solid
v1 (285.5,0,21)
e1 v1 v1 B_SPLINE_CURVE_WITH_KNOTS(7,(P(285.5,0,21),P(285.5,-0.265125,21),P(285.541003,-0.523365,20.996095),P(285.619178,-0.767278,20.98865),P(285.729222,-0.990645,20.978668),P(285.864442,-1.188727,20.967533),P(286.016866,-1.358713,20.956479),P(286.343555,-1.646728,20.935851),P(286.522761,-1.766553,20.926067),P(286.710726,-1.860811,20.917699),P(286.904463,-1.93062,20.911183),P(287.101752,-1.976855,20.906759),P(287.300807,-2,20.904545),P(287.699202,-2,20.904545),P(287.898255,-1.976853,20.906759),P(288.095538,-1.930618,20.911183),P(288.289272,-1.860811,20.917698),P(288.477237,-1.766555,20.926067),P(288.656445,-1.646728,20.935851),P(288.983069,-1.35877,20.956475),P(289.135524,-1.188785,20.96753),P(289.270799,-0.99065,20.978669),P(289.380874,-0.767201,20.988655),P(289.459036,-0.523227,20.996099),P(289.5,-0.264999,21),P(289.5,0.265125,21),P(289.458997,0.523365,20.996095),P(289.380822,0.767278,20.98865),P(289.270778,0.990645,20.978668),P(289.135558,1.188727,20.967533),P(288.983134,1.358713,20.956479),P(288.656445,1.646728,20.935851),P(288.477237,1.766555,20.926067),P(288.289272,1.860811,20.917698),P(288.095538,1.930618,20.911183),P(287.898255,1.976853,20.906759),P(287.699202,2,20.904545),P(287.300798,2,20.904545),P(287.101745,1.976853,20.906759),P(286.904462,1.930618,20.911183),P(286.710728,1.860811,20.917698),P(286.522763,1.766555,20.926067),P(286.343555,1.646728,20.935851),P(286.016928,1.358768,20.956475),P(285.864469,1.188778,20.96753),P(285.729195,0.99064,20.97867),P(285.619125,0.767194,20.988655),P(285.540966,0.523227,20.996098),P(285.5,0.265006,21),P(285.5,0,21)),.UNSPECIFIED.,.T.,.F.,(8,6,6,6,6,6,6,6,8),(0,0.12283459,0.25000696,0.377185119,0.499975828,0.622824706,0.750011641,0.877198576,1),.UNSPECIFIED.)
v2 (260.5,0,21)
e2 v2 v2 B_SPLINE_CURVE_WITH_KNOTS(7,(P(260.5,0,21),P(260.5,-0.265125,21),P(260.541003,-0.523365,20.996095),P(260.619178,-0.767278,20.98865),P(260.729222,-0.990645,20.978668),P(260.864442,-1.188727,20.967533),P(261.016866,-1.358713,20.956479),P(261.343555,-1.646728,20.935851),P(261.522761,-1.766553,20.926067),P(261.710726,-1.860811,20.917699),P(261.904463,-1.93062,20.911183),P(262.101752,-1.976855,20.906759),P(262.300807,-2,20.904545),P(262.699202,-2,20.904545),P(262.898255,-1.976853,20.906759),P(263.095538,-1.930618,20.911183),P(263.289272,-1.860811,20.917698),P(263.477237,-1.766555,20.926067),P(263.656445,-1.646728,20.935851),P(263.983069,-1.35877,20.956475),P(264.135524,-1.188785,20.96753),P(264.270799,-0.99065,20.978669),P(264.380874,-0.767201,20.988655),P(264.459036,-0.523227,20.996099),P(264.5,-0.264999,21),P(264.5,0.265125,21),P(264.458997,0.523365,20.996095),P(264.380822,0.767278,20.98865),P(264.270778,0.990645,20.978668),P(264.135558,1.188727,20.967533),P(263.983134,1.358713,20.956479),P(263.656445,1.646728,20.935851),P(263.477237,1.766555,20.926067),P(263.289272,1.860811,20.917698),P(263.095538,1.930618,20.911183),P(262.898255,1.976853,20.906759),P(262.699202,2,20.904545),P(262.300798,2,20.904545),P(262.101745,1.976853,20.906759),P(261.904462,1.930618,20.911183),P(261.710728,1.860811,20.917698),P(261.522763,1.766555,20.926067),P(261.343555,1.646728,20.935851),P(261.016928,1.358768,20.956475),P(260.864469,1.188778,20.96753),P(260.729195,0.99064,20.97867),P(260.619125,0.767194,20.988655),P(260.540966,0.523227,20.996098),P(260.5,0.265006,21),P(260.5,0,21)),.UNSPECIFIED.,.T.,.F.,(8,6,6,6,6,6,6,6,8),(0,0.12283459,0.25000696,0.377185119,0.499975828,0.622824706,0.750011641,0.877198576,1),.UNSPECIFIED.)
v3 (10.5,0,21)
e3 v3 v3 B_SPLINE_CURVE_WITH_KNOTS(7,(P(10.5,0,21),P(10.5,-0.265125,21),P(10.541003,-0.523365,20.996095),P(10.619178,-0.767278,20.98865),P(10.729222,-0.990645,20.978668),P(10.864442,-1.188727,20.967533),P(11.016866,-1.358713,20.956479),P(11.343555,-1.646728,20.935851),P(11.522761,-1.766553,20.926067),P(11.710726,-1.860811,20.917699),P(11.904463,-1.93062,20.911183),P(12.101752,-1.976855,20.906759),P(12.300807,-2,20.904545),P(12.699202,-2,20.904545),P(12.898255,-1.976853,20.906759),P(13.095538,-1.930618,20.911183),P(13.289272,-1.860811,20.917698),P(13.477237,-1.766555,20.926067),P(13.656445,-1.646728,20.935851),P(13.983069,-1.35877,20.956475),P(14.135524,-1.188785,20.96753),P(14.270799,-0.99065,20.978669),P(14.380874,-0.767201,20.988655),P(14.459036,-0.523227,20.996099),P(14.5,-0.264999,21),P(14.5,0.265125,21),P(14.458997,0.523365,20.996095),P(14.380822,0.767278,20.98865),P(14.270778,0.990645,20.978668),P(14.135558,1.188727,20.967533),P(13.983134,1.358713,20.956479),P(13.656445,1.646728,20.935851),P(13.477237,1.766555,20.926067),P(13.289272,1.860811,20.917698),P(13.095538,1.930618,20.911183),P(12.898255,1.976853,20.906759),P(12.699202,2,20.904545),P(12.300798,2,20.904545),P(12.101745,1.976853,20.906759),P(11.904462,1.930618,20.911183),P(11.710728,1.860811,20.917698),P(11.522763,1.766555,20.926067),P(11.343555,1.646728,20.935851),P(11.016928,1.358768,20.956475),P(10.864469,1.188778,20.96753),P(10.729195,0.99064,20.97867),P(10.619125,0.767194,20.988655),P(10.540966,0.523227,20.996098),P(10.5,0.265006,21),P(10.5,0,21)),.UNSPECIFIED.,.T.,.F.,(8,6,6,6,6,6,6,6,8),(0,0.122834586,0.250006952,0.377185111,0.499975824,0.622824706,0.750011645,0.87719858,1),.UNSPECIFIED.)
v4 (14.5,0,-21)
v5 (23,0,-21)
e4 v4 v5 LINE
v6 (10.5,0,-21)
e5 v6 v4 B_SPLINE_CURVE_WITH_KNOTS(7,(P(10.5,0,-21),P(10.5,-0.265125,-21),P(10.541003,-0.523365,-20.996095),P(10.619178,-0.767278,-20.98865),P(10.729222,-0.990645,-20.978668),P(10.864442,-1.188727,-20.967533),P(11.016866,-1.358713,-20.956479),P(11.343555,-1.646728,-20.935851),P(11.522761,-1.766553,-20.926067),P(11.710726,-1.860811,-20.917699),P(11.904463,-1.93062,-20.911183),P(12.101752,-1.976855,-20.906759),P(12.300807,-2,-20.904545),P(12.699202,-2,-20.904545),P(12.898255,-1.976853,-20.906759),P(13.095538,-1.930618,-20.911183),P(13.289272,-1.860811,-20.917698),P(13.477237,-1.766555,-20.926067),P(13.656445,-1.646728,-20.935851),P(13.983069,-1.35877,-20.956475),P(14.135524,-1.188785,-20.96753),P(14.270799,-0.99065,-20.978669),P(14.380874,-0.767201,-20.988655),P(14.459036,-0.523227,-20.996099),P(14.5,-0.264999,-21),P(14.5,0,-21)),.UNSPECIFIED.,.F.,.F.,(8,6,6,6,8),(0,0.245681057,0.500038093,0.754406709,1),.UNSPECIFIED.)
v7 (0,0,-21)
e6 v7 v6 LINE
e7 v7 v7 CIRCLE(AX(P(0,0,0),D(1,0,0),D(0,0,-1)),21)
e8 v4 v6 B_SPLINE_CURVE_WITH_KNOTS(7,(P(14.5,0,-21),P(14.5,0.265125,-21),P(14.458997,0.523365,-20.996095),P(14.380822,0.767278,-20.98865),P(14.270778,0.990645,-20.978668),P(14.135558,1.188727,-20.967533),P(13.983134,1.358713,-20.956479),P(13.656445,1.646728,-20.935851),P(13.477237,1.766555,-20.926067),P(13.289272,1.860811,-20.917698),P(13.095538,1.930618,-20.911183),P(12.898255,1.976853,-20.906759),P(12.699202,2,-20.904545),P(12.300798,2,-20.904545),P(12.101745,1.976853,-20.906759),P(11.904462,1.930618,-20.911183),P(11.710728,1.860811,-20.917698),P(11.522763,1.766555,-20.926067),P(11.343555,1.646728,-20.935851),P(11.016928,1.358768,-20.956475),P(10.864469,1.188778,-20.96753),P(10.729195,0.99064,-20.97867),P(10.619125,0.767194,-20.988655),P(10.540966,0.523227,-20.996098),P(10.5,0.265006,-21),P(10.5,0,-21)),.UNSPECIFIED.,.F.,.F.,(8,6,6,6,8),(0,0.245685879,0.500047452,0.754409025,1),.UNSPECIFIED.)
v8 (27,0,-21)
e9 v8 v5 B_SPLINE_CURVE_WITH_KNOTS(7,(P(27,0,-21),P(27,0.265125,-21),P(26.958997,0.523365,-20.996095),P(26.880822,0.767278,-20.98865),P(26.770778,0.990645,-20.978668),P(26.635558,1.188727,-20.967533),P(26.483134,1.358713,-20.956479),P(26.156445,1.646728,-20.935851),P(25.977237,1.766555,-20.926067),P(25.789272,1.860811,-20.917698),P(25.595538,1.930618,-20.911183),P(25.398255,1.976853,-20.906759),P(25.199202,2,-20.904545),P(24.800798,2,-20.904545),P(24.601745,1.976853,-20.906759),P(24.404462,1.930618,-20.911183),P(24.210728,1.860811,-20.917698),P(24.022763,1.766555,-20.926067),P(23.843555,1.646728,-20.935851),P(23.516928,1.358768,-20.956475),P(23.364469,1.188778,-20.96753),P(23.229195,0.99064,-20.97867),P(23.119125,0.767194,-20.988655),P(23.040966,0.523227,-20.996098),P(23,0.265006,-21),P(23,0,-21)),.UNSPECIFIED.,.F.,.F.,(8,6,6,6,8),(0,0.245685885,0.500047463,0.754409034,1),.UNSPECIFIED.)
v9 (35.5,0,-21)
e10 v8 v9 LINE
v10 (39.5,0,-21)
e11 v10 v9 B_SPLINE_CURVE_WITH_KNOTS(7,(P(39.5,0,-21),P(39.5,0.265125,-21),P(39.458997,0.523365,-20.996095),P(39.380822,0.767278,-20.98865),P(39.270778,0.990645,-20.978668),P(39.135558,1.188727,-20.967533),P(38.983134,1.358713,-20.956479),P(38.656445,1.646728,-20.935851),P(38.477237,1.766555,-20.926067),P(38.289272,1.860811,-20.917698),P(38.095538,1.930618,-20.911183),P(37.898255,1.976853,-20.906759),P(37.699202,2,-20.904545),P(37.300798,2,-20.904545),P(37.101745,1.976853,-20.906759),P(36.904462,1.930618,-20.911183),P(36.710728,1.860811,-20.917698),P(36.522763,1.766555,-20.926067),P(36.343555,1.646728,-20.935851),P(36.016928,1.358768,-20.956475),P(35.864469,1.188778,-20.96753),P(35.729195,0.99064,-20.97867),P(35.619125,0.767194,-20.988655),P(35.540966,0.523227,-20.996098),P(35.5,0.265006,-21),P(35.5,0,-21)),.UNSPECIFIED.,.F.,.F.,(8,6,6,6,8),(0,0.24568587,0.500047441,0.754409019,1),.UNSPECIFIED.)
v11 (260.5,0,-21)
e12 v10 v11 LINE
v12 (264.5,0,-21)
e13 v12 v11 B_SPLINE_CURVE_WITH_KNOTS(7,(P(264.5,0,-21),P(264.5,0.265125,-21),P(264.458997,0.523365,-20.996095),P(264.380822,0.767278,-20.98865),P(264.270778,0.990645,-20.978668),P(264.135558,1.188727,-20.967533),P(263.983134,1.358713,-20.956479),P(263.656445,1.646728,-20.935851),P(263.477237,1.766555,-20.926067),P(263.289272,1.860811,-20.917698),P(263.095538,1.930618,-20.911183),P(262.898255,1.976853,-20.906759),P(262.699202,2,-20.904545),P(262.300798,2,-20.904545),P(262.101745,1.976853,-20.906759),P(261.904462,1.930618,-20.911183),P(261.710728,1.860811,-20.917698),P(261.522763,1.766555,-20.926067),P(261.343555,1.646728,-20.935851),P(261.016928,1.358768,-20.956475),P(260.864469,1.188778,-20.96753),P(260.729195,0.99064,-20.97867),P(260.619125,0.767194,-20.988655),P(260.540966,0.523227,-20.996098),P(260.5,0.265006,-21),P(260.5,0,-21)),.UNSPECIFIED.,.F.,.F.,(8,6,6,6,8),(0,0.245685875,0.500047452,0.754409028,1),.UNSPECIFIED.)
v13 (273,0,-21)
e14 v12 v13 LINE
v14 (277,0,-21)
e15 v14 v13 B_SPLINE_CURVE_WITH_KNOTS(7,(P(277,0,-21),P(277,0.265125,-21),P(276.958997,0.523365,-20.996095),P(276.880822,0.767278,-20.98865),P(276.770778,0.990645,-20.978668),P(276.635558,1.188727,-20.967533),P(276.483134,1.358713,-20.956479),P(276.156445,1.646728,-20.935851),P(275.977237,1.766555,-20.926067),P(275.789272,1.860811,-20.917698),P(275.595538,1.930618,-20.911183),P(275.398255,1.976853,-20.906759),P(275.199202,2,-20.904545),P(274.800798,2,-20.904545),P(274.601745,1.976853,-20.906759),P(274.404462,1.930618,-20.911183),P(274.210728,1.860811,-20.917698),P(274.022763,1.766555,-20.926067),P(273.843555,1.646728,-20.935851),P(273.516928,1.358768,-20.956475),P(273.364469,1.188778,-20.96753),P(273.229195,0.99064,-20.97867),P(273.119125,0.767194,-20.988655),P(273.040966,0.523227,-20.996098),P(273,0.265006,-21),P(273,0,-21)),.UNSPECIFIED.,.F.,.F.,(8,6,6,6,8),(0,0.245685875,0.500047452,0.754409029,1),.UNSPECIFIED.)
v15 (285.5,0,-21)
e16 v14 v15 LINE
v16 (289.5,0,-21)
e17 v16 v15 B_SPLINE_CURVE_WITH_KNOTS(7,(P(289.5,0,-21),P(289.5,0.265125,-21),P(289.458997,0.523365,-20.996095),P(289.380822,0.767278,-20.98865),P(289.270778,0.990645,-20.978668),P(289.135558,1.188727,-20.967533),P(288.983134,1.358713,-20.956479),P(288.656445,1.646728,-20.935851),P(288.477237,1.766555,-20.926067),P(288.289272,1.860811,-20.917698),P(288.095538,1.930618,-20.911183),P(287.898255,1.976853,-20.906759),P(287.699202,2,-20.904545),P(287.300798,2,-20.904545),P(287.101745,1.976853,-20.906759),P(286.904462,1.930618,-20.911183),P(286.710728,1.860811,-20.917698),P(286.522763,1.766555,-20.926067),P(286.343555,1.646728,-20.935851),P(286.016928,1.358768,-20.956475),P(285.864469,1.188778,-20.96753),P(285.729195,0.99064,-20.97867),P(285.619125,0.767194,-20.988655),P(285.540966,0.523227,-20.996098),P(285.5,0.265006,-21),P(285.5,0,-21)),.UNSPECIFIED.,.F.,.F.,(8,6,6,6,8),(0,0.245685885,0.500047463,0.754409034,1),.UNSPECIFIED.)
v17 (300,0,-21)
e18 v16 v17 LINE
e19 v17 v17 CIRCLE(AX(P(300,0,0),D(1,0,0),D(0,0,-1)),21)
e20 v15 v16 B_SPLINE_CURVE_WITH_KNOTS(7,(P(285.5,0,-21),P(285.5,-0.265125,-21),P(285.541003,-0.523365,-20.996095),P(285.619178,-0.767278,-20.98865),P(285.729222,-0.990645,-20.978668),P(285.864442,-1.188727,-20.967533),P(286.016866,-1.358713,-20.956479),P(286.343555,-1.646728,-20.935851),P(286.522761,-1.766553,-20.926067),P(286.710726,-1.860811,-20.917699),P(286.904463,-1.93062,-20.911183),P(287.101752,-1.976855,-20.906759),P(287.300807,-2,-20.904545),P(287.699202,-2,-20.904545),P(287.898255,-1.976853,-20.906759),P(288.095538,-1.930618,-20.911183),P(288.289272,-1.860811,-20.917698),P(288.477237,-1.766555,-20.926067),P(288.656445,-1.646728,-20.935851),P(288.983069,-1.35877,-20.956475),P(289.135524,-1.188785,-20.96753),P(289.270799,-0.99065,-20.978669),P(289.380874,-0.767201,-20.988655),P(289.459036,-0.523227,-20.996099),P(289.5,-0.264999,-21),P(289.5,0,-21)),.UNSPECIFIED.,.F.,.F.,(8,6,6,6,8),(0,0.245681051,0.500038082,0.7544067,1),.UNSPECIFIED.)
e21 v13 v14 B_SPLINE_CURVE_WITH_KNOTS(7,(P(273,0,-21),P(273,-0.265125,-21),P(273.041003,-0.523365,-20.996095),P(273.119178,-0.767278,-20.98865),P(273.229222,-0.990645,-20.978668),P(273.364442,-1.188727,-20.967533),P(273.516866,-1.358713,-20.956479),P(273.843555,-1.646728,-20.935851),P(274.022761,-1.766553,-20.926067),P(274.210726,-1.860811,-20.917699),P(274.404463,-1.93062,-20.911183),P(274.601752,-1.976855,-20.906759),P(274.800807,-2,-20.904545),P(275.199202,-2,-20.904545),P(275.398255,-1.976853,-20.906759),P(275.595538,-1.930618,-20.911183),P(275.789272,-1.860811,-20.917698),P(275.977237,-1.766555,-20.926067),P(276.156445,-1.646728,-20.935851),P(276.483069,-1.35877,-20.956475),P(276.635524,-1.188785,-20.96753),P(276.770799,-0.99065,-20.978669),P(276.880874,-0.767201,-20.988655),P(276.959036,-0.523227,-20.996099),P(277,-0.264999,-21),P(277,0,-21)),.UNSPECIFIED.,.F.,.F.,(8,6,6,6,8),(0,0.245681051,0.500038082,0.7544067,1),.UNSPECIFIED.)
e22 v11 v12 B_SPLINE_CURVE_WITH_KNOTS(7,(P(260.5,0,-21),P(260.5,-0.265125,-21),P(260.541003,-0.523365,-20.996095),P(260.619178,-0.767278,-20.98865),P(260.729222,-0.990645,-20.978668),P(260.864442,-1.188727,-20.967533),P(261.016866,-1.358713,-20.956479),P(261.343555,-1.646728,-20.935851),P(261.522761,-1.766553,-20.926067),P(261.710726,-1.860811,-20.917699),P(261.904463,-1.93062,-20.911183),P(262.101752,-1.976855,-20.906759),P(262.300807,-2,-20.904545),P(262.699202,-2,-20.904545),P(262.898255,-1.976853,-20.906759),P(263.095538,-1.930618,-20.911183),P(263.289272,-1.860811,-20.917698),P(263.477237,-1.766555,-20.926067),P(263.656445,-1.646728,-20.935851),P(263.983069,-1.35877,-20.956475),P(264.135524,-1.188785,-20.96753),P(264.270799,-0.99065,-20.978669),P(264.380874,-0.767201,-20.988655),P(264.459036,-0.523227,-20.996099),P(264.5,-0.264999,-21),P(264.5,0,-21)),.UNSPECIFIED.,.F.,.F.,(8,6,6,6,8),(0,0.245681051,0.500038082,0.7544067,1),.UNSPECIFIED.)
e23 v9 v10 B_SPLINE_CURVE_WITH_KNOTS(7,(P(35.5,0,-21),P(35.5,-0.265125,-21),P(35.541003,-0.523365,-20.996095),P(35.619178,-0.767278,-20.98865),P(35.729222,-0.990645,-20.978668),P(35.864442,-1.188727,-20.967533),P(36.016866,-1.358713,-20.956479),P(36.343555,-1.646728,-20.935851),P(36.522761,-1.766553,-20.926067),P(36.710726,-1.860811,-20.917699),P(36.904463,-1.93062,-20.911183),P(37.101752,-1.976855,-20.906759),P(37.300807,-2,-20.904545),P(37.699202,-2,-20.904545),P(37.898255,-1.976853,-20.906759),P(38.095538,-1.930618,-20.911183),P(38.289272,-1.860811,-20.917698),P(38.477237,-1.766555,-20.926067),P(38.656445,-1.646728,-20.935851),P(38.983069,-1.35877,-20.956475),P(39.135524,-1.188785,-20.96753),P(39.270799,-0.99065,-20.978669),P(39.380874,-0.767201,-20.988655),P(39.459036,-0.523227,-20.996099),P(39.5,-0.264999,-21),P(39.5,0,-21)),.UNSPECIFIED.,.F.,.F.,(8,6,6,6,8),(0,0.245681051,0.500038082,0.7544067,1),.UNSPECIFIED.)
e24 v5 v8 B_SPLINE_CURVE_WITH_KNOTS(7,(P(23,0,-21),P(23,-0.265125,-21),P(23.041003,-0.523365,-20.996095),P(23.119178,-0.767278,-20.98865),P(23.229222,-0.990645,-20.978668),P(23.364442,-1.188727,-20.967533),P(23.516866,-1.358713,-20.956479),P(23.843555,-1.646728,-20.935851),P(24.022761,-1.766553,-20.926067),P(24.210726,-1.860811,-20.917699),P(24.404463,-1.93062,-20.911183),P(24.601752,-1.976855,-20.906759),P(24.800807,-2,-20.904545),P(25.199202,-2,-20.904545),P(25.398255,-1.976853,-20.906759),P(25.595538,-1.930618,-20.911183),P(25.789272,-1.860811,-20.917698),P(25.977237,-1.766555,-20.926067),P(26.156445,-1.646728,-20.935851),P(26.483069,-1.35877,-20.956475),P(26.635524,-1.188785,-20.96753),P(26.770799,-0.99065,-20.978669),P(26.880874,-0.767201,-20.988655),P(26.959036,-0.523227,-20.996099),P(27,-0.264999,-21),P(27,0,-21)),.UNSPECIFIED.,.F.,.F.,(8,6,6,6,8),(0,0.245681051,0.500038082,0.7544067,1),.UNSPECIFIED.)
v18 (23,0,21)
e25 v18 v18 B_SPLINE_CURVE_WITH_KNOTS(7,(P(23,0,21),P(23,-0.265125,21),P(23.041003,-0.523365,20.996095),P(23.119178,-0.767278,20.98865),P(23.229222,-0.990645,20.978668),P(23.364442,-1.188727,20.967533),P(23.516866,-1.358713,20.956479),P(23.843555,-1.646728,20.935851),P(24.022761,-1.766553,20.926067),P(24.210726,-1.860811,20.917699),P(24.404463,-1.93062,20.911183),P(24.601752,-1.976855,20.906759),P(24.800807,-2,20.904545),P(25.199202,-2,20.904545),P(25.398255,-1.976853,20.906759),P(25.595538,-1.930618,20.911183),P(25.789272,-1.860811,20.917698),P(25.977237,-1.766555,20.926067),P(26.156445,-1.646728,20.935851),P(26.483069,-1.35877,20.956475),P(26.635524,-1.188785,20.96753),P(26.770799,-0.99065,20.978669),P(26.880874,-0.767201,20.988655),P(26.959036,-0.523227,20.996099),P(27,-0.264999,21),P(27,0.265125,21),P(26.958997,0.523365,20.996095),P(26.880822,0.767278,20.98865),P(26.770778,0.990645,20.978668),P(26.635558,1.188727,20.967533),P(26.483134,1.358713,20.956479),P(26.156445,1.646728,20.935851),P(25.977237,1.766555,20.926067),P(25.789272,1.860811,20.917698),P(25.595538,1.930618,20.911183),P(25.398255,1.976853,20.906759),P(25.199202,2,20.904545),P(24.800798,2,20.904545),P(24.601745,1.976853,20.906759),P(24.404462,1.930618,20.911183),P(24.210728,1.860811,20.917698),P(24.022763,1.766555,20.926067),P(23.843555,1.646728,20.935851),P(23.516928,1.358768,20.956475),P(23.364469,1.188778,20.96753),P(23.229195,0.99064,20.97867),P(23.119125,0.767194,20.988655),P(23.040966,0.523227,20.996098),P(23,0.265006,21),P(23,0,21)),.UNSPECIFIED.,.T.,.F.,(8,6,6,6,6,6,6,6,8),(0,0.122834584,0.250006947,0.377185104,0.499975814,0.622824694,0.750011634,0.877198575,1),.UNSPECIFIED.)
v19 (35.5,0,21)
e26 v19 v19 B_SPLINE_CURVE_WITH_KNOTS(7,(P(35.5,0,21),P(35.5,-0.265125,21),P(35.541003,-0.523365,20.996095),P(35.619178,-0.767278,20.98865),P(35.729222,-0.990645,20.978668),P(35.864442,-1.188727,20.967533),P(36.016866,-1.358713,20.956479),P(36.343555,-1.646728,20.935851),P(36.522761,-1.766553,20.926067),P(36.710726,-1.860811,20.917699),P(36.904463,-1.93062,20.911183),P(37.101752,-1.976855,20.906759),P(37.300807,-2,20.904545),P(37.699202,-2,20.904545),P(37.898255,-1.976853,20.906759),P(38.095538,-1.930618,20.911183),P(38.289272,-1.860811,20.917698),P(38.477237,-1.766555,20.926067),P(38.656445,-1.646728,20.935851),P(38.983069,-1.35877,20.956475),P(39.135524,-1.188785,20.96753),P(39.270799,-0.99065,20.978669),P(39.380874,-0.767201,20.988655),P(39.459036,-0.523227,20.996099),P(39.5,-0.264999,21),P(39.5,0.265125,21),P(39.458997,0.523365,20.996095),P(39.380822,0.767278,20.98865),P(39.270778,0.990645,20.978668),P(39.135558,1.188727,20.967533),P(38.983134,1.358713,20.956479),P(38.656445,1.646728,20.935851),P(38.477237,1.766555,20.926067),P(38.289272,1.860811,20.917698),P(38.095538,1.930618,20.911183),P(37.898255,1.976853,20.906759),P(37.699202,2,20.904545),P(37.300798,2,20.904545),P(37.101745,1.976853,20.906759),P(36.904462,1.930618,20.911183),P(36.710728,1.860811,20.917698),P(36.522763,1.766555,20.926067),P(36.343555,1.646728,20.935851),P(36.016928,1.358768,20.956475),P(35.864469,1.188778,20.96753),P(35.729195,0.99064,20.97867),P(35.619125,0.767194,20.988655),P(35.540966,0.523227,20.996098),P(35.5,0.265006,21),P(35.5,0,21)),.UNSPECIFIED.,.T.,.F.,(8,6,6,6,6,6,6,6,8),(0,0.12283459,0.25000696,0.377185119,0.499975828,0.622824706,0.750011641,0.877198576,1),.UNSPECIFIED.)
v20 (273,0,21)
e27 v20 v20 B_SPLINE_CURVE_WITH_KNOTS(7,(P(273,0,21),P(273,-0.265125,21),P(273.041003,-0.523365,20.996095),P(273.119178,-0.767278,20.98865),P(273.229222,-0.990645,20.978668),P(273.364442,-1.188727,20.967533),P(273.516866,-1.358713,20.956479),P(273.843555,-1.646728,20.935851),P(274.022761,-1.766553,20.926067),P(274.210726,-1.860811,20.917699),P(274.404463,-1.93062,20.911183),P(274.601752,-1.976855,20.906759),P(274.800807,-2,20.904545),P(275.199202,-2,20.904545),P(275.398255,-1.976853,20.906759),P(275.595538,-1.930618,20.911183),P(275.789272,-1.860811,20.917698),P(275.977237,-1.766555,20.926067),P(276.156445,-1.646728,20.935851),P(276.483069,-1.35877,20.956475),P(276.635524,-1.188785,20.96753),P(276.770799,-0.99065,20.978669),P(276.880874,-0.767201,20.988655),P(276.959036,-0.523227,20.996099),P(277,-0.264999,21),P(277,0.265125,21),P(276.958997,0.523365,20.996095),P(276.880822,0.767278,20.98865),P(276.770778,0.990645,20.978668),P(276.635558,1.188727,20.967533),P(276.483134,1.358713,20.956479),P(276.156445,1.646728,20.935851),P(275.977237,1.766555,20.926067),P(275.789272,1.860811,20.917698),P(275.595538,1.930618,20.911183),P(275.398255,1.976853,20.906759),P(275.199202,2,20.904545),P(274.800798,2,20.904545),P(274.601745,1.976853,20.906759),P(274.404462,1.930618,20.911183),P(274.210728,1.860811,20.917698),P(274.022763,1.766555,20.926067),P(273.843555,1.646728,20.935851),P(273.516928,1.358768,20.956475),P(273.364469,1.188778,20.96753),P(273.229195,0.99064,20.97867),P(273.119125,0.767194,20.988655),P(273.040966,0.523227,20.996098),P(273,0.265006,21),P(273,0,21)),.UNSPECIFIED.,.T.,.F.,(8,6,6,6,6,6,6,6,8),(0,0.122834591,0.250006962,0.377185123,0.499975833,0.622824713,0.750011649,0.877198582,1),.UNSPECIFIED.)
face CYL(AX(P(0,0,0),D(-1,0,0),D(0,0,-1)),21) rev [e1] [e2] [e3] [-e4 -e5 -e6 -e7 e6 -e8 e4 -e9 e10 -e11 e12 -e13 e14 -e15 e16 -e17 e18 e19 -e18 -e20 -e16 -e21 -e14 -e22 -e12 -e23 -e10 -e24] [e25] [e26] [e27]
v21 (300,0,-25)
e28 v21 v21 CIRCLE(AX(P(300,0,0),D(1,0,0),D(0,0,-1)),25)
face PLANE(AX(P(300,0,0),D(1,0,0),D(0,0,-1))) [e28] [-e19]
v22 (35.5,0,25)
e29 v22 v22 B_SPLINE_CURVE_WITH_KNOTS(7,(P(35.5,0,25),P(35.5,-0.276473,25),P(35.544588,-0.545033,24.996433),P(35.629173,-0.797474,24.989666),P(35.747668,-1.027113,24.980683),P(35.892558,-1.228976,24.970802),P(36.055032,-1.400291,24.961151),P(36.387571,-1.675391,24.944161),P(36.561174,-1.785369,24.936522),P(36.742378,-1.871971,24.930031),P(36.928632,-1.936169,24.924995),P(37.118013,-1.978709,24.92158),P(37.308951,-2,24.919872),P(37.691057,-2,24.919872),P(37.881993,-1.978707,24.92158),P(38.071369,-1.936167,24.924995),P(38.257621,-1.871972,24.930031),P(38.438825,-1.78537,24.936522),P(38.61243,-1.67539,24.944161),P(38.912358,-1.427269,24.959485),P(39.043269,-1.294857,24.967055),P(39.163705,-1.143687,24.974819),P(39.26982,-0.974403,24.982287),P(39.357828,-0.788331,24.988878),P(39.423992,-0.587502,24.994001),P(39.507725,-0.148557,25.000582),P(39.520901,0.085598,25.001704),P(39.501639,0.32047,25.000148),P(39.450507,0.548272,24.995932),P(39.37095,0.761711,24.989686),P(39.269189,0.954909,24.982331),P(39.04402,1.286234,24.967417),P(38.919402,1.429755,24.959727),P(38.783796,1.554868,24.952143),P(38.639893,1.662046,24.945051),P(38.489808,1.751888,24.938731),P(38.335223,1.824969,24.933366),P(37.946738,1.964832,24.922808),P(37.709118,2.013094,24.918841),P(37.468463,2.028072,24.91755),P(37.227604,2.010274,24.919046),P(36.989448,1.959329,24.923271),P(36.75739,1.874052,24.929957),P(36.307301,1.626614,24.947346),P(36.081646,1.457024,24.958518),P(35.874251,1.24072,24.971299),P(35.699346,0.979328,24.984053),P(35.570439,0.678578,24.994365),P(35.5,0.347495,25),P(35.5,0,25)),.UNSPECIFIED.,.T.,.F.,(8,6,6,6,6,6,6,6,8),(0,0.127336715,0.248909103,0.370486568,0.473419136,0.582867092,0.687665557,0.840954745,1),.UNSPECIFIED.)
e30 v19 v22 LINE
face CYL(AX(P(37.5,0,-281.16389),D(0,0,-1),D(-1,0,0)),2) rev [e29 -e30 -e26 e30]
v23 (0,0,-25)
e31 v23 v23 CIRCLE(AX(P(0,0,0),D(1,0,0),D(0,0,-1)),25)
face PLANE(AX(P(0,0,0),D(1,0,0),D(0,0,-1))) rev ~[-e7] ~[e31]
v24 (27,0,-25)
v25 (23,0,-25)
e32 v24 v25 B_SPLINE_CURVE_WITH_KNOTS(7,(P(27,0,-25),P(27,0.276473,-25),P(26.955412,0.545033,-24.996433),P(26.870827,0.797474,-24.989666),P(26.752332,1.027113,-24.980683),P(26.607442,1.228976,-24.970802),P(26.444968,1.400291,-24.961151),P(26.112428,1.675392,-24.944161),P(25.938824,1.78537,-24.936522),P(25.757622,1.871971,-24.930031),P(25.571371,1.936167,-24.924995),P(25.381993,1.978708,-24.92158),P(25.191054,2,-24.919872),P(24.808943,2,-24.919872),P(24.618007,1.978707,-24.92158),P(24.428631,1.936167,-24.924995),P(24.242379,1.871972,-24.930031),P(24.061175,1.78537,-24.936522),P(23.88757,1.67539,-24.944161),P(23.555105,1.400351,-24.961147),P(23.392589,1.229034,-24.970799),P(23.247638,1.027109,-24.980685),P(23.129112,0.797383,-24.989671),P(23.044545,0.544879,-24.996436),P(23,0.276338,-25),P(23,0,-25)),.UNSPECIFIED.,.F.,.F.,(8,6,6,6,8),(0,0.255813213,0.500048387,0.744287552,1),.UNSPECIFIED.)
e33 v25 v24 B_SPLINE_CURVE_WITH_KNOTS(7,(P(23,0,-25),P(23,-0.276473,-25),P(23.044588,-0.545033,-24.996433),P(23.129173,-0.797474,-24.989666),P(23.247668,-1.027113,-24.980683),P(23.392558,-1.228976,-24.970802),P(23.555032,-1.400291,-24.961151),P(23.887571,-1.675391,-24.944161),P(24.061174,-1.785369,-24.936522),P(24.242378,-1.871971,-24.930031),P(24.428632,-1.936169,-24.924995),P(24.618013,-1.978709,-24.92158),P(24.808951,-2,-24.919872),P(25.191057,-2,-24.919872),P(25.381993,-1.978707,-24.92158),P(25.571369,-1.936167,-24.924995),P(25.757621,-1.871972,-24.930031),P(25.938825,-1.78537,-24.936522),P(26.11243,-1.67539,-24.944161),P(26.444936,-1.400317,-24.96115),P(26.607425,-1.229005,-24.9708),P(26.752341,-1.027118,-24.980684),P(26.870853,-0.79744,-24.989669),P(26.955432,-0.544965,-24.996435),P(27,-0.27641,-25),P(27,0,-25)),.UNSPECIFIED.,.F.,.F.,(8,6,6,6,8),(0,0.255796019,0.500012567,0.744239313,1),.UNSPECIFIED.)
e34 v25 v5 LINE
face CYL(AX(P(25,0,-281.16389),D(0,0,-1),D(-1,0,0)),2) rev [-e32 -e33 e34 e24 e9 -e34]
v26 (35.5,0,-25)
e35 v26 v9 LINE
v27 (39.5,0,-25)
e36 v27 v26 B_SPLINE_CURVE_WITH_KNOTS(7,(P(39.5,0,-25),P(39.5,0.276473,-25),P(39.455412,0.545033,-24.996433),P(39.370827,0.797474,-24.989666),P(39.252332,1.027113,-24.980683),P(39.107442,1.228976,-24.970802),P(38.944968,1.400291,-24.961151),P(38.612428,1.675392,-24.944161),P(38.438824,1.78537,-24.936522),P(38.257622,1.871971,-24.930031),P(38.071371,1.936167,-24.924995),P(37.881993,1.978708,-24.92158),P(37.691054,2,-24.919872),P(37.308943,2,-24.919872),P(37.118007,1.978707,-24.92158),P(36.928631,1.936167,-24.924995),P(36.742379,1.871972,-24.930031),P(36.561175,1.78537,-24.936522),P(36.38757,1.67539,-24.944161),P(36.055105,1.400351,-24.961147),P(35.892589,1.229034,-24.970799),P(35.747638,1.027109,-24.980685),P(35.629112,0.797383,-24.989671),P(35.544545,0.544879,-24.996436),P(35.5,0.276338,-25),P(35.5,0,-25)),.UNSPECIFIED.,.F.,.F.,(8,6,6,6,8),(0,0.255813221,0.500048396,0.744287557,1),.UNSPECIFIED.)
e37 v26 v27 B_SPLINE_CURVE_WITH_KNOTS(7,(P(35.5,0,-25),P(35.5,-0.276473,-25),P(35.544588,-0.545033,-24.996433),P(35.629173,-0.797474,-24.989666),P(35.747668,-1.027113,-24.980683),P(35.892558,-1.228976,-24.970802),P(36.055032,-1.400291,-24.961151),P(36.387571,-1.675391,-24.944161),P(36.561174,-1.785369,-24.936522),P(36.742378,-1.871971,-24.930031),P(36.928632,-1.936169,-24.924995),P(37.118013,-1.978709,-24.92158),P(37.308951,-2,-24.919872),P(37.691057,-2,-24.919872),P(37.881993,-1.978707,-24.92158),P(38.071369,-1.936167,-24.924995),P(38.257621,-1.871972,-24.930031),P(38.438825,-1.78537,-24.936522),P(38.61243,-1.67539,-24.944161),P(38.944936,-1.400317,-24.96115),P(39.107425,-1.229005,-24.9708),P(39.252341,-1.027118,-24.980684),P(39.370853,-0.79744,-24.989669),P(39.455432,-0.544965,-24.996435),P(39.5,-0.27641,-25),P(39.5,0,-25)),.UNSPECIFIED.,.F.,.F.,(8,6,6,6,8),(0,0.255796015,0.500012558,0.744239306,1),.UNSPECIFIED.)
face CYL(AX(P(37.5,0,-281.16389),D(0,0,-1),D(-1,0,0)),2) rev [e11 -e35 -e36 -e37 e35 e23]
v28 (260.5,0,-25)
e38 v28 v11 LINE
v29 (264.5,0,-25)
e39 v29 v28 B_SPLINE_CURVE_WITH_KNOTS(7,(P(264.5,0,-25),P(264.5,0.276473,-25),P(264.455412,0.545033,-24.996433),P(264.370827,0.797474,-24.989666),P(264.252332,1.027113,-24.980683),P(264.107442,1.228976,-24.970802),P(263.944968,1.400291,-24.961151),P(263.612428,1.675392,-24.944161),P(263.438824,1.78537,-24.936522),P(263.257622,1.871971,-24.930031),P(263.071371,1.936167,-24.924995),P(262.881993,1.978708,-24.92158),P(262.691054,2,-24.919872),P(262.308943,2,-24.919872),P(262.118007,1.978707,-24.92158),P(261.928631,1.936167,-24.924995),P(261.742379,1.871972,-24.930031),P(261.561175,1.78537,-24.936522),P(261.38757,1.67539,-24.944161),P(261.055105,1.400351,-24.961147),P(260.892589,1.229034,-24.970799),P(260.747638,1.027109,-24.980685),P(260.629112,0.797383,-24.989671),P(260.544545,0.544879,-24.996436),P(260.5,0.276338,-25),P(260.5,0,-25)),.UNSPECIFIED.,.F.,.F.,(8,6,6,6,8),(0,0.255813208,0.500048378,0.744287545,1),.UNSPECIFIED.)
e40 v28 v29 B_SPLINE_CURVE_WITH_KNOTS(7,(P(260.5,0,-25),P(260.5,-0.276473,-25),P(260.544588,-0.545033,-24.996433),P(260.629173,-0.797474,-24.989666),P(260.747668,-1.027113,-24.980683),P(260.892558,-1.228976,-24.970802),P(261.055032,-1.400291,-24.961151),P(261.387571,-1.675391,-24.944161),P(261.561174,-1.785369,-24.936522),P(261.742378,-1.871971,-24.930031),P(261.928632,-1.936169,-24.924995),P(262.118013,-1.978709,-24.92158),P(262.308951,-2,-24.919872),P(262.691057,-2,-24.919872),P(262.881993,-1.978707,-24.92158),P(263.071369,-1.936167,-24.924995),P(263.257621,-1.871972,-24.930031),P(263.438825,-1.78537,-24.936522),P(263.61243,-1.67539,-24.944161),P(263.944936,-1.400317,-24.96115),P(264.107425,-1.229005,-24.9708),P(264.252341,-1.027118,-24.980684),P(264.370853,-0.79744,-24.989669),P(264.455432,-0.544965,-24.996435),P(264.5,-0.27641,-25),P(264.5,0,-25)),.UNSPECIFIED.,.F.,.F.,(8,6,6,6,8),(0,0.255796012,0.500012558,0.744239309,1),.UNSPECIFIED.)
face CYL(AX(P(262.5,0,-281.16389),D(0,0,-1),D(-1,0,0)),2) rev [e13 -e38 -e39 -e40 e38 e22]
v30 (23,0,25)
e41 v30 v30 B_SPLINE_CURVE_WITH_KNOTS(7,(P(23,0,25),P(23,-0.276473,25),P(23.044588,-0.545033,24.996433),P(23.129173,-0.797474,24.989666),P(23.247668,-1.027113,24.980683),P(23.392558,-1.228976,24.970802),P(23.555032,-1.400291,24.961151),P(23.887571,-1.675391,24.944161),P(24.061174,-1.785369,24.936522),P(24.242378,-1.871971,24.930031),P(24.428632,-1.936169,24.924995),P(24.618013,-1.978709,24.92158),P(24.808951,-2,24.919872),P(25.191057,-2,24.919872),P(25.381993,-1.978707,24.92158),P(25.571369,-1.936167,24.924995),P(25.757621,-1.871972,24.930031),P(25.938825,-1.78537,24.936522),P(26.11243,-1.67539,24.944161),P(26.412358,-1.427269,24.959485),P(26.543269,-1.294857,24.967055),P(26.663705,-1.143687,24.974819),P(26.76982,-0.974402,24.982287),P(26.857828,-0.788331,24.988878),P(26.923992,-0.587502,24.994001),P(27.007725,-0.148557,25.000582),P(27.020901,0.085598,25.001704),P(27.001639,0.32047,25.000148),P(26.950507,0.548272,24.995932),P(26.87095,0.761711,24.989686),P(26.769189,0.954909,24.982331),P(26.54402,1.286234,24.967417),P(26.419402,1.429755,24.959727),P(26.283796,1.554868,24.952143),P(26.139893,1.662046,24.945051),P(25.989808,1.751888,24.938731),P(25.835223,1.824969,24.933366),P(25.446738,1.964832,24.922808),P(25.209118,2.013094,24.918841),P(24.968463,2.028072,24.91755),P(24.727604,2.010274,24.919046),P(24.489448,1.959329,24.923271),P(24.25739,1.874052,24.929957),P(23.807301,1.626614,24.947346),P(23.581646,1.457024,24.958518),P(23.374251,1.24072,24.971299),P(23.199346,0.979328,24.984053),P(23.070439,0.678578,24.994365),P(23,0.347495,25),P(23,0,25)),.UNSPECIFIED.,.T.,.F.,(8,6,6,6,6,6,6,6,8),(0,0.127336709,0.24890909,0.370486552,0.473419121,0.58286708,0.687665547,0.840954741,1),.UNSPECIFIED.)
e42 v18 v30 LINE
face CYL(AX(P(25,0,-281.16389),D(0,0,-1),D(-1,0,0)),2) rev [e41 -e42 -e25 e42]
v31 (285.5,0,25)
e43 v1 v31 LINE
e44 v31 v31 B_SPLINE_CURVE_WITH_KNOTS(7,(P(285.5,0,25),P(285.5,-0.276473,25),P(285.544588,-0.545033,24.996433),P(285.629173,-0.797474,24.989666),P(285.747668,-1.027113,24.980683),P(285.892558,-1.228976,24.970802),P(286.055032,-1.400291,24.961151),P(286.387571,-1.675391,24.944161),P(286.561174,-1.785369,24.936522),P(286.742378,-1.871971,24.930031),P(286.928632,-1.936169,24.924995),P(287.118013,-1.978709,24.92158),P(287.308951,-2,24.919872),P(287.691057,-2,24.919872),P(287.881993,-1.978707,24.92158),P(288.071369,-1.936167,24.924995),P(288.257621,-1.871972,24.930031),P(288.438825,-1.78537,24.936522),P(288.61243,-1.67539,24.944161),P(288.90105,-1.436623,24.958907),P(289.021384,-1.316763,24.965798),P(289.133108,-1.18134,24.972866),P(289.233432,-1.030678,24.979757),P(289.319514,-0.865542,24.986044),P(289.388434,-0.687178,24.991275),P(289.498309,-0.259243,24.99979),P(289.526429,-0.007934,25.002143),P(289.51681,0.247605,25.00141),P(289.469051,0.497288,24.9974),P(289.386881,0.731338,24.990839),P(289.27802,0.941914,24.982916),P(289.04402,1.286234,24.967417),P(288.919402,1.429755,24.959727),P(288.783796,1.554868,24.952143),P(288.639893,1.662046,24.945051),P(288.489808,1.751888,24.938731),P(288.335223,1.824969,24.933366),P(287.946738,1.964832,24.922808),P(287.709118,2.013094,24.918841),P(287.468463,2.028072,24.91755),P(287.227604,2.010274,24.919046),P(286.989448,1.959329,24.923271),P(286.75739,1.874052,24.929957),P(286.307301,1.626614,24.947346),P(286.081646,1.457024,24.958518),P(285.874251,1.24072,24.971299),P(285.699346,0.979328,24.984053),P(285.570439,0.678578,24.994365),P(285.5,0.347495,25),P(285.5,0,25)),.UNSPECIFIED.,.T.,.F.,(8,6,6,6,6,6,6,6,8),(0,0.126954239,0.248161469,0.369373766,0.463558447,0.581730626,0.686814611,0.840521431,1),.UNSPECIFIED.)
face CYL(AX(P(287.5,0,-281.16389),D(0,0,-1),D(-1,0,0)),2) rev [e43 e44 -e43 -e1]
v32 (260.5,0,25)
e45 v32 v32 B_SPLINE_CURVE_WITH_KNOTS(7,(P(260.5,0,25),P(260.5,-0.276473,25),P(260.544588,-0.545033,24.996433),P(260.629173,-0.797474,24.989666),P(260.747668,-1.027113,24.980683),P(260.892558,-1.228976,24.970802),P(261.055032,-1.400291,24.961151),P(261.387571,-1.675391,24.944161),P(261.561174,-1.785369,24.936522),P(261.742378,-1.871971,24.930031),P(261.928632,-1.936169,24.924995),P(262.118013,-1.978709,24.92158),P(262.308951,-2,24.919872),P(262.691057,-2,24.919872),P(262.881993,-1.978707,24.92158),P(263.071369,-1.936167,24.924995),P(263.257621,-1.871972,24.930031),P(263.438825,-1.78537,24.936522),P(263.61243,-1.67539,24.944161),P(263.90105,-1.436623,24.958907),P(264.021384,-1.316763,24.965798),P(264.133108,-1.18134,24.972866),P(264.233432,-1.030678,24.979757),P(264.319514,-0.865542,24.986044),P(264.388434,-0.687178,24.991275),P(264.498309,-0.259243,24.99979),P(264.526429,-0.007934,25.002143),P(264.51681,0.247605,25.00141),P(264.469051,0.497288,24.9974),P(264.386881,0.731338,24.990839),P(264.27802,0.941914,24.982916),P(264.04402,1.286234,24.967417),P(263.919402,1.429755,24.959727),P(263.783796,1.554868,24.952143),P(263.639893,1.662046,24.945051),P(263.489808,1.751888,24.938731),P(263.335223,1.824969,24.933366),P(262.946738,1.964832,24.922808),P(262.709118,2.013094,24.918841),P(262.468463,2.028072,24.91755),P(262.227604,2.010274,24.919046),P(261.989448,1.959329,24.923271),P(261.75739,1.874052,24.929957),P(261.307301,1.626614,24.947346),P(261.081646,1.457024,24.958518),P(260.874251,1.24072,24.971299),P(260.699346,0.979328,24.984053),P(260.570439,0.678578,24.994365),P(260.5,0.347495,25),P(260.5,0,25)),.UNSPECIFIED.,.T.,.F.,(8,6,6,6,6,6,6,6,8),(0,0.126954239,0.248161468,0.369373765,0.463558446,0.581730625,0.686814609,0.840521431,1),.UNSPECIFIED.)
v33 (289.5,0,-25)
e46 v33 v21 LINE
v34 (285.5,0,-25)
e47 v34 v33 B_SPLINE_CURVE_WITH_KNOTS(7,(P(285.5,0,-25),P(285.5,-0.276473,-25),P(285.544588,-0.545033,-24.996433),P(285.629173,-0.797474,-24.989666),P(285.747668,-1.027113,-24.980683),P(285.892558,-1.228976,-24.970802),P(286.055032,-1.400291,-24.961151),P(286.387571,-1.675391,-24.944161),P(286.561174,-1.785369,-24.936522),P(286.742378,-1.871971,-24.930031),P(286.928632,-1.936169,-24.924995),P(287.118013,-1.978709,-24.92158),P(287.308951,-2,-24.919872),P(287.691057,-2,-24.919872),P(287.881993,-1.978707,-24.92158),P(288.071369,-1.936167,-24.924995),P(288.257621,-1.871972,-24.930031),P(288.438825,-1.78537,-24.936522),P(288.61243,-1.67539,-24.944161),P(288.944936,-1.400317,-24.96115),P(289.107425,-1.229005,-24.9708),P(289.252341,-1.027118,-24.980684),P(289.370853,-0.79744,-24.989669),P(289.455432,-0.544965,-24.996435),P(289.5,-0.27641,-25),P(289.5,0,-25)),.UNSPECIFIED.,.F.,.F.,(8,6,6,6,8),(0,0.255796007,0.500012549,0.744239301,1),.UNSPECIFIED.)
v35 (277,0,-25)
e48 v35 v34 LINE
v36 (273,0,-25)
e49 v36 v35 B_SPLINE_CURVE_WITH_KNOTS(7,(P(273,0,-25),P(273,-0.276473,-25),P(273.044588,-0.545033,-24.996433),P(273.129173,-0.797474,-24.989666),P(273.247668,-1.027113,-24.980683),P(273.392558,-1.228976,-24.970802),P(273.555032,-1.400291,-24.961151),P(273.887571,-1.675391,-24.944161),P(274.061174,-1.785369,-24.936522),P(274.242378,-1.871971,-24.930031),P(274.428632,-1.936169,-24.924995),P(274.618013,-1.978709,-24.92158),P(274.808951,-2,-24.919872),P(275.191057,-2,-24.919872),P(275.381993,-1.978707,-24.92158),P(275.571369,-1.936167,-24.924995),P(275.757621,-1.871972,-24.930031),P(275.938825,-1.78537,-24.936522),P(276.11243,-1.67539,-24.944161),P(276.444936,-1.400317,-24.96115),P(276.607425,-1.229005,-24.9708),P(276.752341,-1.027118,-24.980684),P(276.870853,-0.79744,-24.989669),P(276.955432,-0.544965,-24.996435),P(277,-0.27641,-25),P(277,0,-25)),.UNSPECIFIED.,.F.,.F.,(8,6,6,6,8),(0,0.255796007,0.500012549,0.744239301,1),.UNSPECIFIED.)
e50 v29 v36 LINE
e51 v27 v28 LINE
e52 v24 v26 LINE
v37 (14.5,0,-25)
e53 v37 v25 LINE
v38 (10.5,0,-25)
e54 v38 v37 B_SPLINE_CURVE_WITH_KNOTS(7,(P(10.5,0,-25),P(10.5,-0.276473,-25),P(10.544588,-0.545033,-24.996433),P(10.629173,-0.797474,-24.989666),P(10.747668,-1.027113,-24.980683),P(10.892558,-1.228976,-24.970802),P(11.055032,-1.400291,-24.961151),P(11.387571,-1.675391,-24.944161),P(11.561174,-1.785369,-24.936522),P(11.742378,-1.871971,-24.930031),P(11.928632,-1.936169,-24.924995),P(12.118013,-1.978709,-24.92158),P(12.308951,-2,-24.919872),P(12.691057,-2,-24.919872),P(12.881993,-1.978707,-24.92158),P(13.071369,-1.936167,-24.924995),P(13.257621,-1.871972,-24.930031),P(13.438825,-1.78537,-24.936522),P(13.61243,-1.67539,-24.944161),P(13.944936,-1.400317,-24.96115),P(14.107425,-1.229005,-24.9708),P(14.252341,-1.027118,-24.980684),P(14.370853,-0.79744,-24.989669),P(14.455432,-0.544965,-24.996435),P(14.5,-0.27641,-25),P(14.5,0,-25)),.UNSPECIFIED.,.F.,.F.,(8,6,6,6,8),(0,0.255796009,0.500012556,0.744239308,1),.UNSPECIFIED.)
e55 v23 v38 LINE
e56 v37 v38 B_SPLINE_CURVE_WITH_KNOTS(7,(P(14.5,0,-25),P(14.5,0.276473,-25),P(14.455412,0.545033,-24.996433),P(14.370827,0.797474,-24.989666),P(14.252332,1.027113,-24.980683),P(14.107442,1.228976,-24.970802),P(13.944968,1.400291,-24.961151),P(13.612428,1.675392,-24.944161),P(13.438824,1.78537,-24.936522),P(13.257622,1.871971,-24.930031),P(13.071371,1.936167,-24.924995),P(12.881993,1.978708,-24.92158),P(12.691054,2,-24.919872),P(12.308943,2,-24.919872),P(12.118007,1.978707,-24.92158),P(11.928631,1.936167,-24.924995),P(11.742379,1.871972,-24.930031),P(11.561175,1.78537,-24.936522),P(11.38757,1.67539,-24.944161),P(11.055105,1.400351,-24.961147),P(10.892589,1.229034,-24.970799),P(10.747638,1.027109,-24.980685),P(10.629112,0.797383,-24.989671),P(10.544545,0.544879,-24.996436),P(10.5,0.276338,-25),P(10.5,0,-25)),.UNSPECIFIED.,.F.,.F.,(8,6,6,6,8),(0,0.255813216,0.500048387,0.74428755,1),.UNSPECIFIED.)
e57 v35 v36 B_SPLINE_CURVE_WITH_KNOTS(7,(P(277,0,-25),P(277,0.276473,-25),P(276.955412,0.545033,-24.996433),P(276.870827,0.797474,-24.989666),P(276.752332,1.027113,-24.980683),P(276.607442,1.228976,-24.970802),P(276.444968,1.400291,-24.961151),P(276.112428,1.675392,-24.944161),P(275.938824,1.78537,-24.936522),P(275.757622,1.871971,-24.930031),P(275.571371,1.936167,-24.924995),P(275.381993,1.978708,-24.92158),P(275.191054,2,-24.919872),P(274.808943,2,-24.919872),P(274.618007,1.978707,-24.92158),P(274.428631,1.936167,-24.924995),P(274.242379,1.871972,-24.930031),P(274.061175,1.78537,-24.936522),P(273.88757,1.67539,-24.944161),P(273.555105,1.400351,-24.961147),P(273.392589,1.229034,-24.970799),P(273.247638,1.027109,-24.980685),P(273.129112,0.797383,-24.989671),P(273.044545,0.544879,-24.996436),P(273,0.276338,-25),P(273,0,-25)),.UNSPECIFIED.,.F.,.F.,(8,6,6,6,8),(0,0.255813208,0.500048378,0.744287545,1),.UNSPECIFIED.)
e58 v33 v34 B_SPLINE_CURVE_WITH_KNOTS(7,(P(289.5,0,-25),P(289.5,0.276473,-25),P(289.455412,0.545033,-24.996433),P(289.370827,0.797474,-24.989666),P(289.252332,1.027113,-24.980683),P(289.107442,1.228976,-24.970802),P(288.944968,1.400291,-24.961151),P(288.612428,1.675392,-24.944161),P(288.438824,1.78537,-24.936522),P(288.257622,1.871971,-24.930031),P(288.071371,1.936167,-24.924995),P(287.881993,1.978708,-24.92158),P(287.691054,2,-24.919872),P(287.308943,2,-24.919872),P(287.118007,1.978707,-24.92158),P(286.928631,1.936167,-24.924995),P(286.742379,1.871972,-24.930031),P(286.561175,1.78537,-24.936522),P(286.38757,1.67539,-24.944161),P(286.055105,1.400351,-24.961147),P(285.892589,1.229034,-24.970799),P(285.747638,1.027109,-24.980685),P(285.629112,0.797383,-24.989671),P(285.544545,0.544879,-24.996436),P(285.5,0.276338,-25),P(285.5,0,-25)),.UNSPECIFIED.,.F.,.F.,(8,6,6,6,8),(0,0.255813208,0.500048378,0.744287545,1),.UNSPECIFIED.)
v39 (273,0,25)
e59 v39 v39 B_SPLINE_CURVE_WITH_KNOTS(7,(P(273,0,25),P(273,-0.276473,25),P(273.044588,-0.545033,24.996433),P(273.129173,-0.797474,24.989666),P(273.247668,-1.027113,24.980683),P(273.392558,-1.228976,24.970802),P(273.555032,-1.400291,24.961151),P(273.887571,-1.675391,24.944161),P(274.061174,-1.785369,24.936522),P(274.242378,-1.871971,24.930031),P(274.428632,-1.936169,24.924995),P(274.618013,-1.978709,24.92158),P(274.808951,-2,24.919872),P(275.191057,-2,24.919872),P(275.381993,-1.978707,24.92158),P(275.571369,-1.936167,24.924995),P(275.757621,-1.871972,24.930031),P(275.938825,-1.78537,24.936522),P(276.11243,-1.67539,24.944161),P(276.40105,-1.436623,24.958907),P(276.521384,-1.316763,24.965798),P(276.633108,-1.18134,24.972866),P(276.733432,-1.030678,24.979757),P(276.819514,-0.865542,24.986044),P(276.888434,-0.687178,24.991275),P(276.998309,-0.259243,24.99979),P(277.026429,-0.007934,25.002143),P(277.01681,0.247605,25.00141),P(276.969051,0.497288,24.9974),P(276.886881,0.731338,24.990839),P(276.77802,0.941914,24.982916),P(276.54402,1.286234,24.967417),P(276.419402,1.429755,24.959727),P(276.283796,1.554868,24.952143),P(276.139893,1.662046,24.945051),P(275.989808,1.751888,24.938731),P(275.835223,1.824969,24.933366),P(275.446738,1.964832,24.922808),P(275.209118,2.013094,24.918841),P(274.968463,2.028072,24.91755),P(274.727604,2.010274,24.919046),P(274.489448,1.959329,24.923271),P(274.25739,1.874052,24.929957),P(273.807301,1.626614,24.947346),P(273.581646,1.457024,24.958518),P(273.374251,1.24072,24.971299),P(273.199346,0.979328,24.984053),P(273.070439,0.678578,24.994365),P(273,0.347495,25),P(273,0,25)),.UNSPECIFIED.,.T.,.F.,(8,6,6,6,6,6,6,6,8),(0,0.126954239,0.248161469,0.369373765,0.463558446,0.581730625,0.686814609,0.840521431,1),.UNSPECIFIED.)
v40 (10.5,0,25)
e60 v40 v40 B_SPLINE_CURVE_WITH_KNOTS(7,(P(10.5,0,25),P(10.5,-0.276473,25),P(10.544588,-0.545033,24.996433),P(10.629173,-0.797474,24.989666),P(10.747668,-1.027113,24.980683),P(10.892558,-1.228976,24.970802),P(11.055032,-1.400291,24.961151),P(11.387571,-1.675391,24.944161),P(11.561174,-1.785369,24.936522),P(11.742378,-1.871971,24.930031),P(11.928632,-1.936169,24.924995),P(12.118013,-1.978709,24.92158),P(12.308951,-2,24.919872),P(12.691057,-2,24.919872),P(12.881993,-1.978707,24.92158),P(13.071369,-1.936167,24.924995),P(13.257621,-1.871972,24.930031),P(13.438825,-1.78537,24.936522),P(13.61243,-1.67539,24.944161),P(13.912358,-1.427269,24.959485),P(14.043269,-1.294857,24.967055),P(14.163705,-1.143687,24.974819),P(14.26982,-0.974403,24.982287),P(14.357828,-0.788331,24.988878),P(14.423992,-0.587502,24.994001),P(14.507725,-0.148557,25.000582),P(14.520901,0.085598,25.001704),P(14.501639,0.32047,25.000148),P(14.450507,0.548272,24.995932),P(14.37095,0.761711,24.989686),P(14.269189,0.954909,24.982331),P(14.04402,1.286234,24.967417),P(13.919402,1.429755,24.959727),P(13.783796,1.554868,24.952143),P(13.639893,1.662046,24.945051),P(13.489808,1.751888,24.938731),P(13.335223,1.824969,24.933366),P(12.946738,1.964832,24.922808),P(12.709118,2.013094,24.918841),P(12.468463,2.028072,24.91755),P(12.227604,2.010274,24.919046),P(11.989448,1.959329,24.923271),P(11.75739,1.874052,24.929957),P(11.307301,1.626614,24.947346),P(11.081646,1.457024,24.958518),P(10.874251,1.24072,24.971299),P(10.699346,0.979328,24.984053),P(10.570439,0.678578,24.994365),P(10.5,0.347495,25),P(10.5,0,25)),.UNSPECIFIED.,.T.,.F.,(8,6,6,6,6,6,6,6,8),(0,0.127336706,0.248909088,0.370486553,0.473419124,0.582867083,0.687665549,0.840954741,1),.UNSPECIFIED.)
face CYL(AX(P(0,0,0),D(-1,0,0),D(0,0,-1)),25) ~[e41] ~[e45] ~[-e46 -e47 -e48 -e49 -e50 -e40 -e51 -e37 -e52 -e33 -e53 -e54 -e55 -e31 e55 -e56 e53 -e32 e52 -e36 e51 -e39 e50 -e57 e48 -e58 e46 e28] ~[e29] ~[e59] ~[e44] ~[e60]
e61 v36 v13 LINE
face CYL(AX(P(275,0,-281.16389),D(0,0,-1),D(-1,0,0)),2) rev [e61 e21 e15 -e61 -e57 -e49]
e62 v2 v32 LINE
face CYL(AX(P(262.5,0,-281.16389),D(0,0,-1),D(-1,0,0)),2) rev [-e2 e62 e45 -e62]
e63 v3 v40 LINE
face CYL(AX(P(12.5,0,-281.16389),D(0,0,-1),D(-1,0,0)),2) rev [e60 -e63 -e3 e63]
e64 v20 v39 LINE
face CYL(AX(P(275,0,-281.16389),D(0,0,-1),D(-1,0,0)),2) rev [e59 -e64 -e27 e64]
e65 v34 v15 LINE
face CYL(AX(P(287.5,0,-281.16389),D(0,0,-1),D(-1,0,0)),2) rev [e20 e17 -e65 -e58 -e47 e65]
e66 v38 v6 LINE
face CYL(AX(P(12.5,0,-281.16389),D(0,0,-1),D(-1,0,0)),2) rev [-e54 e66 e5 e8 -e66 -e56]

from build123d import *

# Parameters (mm, degrees)
SKETCH_2_R               = 25
SKETCH_2_R_2             = 21
EXTRUDE_2_DEPTH          = 300
CUT_EXTRUDE_2_DEPTH      = 10
CUT_EXTRUDE_2_DEPTH_BACK = 306.163890393
SKETCH_4_R               = 2


with BuildPart() as part:
    # Эскиз2 → Бобышка-Вытянуть2 (new body)
    with BuildSketch(Plane(origin=(0, 0, 0), x_dir=(0, 0, -1), z_dir=(1, 0, 0))):
        Circle(SKETCH_2_R)
        Circle(SKETCH_2_R_2, mode=Mode.SUBTRACT)
    extrude(amount=EXTRUDE_2_DEPTH)

    # Эскиз4 → Вырез-Вытянуть2 (cut, two sides: drawn at the far end of the back side and taken through both)
    with BuildSketch(Plane.XY.offset(25).offset(-CUT_EXTRUDE_2_DEPTH_BACK)):
        with Locations((12.5, 0)):
            Circle(SKETCH_4_R)
        with Locations((287.5, 0)):
            Circle(SKETCH_4_R)
        with Locations((25, 0)):
            Circle(SKETCH_4_R)
        with Locations((37.5, 0)):
            Circle(SKETCH_4_R)
        with Locations((275, 0)):
            Circle(SKETCH_4_R)
        with Locations((262.5, 0)):
            Circle(SKETCH_4_R)
    extrude(amount=CUT_EXTRUDE_2_DEPTH + CUT_EXTRUDE_2_DEPTH_BACK, mode=Mode.SUBTRACT)


solid = part.part
